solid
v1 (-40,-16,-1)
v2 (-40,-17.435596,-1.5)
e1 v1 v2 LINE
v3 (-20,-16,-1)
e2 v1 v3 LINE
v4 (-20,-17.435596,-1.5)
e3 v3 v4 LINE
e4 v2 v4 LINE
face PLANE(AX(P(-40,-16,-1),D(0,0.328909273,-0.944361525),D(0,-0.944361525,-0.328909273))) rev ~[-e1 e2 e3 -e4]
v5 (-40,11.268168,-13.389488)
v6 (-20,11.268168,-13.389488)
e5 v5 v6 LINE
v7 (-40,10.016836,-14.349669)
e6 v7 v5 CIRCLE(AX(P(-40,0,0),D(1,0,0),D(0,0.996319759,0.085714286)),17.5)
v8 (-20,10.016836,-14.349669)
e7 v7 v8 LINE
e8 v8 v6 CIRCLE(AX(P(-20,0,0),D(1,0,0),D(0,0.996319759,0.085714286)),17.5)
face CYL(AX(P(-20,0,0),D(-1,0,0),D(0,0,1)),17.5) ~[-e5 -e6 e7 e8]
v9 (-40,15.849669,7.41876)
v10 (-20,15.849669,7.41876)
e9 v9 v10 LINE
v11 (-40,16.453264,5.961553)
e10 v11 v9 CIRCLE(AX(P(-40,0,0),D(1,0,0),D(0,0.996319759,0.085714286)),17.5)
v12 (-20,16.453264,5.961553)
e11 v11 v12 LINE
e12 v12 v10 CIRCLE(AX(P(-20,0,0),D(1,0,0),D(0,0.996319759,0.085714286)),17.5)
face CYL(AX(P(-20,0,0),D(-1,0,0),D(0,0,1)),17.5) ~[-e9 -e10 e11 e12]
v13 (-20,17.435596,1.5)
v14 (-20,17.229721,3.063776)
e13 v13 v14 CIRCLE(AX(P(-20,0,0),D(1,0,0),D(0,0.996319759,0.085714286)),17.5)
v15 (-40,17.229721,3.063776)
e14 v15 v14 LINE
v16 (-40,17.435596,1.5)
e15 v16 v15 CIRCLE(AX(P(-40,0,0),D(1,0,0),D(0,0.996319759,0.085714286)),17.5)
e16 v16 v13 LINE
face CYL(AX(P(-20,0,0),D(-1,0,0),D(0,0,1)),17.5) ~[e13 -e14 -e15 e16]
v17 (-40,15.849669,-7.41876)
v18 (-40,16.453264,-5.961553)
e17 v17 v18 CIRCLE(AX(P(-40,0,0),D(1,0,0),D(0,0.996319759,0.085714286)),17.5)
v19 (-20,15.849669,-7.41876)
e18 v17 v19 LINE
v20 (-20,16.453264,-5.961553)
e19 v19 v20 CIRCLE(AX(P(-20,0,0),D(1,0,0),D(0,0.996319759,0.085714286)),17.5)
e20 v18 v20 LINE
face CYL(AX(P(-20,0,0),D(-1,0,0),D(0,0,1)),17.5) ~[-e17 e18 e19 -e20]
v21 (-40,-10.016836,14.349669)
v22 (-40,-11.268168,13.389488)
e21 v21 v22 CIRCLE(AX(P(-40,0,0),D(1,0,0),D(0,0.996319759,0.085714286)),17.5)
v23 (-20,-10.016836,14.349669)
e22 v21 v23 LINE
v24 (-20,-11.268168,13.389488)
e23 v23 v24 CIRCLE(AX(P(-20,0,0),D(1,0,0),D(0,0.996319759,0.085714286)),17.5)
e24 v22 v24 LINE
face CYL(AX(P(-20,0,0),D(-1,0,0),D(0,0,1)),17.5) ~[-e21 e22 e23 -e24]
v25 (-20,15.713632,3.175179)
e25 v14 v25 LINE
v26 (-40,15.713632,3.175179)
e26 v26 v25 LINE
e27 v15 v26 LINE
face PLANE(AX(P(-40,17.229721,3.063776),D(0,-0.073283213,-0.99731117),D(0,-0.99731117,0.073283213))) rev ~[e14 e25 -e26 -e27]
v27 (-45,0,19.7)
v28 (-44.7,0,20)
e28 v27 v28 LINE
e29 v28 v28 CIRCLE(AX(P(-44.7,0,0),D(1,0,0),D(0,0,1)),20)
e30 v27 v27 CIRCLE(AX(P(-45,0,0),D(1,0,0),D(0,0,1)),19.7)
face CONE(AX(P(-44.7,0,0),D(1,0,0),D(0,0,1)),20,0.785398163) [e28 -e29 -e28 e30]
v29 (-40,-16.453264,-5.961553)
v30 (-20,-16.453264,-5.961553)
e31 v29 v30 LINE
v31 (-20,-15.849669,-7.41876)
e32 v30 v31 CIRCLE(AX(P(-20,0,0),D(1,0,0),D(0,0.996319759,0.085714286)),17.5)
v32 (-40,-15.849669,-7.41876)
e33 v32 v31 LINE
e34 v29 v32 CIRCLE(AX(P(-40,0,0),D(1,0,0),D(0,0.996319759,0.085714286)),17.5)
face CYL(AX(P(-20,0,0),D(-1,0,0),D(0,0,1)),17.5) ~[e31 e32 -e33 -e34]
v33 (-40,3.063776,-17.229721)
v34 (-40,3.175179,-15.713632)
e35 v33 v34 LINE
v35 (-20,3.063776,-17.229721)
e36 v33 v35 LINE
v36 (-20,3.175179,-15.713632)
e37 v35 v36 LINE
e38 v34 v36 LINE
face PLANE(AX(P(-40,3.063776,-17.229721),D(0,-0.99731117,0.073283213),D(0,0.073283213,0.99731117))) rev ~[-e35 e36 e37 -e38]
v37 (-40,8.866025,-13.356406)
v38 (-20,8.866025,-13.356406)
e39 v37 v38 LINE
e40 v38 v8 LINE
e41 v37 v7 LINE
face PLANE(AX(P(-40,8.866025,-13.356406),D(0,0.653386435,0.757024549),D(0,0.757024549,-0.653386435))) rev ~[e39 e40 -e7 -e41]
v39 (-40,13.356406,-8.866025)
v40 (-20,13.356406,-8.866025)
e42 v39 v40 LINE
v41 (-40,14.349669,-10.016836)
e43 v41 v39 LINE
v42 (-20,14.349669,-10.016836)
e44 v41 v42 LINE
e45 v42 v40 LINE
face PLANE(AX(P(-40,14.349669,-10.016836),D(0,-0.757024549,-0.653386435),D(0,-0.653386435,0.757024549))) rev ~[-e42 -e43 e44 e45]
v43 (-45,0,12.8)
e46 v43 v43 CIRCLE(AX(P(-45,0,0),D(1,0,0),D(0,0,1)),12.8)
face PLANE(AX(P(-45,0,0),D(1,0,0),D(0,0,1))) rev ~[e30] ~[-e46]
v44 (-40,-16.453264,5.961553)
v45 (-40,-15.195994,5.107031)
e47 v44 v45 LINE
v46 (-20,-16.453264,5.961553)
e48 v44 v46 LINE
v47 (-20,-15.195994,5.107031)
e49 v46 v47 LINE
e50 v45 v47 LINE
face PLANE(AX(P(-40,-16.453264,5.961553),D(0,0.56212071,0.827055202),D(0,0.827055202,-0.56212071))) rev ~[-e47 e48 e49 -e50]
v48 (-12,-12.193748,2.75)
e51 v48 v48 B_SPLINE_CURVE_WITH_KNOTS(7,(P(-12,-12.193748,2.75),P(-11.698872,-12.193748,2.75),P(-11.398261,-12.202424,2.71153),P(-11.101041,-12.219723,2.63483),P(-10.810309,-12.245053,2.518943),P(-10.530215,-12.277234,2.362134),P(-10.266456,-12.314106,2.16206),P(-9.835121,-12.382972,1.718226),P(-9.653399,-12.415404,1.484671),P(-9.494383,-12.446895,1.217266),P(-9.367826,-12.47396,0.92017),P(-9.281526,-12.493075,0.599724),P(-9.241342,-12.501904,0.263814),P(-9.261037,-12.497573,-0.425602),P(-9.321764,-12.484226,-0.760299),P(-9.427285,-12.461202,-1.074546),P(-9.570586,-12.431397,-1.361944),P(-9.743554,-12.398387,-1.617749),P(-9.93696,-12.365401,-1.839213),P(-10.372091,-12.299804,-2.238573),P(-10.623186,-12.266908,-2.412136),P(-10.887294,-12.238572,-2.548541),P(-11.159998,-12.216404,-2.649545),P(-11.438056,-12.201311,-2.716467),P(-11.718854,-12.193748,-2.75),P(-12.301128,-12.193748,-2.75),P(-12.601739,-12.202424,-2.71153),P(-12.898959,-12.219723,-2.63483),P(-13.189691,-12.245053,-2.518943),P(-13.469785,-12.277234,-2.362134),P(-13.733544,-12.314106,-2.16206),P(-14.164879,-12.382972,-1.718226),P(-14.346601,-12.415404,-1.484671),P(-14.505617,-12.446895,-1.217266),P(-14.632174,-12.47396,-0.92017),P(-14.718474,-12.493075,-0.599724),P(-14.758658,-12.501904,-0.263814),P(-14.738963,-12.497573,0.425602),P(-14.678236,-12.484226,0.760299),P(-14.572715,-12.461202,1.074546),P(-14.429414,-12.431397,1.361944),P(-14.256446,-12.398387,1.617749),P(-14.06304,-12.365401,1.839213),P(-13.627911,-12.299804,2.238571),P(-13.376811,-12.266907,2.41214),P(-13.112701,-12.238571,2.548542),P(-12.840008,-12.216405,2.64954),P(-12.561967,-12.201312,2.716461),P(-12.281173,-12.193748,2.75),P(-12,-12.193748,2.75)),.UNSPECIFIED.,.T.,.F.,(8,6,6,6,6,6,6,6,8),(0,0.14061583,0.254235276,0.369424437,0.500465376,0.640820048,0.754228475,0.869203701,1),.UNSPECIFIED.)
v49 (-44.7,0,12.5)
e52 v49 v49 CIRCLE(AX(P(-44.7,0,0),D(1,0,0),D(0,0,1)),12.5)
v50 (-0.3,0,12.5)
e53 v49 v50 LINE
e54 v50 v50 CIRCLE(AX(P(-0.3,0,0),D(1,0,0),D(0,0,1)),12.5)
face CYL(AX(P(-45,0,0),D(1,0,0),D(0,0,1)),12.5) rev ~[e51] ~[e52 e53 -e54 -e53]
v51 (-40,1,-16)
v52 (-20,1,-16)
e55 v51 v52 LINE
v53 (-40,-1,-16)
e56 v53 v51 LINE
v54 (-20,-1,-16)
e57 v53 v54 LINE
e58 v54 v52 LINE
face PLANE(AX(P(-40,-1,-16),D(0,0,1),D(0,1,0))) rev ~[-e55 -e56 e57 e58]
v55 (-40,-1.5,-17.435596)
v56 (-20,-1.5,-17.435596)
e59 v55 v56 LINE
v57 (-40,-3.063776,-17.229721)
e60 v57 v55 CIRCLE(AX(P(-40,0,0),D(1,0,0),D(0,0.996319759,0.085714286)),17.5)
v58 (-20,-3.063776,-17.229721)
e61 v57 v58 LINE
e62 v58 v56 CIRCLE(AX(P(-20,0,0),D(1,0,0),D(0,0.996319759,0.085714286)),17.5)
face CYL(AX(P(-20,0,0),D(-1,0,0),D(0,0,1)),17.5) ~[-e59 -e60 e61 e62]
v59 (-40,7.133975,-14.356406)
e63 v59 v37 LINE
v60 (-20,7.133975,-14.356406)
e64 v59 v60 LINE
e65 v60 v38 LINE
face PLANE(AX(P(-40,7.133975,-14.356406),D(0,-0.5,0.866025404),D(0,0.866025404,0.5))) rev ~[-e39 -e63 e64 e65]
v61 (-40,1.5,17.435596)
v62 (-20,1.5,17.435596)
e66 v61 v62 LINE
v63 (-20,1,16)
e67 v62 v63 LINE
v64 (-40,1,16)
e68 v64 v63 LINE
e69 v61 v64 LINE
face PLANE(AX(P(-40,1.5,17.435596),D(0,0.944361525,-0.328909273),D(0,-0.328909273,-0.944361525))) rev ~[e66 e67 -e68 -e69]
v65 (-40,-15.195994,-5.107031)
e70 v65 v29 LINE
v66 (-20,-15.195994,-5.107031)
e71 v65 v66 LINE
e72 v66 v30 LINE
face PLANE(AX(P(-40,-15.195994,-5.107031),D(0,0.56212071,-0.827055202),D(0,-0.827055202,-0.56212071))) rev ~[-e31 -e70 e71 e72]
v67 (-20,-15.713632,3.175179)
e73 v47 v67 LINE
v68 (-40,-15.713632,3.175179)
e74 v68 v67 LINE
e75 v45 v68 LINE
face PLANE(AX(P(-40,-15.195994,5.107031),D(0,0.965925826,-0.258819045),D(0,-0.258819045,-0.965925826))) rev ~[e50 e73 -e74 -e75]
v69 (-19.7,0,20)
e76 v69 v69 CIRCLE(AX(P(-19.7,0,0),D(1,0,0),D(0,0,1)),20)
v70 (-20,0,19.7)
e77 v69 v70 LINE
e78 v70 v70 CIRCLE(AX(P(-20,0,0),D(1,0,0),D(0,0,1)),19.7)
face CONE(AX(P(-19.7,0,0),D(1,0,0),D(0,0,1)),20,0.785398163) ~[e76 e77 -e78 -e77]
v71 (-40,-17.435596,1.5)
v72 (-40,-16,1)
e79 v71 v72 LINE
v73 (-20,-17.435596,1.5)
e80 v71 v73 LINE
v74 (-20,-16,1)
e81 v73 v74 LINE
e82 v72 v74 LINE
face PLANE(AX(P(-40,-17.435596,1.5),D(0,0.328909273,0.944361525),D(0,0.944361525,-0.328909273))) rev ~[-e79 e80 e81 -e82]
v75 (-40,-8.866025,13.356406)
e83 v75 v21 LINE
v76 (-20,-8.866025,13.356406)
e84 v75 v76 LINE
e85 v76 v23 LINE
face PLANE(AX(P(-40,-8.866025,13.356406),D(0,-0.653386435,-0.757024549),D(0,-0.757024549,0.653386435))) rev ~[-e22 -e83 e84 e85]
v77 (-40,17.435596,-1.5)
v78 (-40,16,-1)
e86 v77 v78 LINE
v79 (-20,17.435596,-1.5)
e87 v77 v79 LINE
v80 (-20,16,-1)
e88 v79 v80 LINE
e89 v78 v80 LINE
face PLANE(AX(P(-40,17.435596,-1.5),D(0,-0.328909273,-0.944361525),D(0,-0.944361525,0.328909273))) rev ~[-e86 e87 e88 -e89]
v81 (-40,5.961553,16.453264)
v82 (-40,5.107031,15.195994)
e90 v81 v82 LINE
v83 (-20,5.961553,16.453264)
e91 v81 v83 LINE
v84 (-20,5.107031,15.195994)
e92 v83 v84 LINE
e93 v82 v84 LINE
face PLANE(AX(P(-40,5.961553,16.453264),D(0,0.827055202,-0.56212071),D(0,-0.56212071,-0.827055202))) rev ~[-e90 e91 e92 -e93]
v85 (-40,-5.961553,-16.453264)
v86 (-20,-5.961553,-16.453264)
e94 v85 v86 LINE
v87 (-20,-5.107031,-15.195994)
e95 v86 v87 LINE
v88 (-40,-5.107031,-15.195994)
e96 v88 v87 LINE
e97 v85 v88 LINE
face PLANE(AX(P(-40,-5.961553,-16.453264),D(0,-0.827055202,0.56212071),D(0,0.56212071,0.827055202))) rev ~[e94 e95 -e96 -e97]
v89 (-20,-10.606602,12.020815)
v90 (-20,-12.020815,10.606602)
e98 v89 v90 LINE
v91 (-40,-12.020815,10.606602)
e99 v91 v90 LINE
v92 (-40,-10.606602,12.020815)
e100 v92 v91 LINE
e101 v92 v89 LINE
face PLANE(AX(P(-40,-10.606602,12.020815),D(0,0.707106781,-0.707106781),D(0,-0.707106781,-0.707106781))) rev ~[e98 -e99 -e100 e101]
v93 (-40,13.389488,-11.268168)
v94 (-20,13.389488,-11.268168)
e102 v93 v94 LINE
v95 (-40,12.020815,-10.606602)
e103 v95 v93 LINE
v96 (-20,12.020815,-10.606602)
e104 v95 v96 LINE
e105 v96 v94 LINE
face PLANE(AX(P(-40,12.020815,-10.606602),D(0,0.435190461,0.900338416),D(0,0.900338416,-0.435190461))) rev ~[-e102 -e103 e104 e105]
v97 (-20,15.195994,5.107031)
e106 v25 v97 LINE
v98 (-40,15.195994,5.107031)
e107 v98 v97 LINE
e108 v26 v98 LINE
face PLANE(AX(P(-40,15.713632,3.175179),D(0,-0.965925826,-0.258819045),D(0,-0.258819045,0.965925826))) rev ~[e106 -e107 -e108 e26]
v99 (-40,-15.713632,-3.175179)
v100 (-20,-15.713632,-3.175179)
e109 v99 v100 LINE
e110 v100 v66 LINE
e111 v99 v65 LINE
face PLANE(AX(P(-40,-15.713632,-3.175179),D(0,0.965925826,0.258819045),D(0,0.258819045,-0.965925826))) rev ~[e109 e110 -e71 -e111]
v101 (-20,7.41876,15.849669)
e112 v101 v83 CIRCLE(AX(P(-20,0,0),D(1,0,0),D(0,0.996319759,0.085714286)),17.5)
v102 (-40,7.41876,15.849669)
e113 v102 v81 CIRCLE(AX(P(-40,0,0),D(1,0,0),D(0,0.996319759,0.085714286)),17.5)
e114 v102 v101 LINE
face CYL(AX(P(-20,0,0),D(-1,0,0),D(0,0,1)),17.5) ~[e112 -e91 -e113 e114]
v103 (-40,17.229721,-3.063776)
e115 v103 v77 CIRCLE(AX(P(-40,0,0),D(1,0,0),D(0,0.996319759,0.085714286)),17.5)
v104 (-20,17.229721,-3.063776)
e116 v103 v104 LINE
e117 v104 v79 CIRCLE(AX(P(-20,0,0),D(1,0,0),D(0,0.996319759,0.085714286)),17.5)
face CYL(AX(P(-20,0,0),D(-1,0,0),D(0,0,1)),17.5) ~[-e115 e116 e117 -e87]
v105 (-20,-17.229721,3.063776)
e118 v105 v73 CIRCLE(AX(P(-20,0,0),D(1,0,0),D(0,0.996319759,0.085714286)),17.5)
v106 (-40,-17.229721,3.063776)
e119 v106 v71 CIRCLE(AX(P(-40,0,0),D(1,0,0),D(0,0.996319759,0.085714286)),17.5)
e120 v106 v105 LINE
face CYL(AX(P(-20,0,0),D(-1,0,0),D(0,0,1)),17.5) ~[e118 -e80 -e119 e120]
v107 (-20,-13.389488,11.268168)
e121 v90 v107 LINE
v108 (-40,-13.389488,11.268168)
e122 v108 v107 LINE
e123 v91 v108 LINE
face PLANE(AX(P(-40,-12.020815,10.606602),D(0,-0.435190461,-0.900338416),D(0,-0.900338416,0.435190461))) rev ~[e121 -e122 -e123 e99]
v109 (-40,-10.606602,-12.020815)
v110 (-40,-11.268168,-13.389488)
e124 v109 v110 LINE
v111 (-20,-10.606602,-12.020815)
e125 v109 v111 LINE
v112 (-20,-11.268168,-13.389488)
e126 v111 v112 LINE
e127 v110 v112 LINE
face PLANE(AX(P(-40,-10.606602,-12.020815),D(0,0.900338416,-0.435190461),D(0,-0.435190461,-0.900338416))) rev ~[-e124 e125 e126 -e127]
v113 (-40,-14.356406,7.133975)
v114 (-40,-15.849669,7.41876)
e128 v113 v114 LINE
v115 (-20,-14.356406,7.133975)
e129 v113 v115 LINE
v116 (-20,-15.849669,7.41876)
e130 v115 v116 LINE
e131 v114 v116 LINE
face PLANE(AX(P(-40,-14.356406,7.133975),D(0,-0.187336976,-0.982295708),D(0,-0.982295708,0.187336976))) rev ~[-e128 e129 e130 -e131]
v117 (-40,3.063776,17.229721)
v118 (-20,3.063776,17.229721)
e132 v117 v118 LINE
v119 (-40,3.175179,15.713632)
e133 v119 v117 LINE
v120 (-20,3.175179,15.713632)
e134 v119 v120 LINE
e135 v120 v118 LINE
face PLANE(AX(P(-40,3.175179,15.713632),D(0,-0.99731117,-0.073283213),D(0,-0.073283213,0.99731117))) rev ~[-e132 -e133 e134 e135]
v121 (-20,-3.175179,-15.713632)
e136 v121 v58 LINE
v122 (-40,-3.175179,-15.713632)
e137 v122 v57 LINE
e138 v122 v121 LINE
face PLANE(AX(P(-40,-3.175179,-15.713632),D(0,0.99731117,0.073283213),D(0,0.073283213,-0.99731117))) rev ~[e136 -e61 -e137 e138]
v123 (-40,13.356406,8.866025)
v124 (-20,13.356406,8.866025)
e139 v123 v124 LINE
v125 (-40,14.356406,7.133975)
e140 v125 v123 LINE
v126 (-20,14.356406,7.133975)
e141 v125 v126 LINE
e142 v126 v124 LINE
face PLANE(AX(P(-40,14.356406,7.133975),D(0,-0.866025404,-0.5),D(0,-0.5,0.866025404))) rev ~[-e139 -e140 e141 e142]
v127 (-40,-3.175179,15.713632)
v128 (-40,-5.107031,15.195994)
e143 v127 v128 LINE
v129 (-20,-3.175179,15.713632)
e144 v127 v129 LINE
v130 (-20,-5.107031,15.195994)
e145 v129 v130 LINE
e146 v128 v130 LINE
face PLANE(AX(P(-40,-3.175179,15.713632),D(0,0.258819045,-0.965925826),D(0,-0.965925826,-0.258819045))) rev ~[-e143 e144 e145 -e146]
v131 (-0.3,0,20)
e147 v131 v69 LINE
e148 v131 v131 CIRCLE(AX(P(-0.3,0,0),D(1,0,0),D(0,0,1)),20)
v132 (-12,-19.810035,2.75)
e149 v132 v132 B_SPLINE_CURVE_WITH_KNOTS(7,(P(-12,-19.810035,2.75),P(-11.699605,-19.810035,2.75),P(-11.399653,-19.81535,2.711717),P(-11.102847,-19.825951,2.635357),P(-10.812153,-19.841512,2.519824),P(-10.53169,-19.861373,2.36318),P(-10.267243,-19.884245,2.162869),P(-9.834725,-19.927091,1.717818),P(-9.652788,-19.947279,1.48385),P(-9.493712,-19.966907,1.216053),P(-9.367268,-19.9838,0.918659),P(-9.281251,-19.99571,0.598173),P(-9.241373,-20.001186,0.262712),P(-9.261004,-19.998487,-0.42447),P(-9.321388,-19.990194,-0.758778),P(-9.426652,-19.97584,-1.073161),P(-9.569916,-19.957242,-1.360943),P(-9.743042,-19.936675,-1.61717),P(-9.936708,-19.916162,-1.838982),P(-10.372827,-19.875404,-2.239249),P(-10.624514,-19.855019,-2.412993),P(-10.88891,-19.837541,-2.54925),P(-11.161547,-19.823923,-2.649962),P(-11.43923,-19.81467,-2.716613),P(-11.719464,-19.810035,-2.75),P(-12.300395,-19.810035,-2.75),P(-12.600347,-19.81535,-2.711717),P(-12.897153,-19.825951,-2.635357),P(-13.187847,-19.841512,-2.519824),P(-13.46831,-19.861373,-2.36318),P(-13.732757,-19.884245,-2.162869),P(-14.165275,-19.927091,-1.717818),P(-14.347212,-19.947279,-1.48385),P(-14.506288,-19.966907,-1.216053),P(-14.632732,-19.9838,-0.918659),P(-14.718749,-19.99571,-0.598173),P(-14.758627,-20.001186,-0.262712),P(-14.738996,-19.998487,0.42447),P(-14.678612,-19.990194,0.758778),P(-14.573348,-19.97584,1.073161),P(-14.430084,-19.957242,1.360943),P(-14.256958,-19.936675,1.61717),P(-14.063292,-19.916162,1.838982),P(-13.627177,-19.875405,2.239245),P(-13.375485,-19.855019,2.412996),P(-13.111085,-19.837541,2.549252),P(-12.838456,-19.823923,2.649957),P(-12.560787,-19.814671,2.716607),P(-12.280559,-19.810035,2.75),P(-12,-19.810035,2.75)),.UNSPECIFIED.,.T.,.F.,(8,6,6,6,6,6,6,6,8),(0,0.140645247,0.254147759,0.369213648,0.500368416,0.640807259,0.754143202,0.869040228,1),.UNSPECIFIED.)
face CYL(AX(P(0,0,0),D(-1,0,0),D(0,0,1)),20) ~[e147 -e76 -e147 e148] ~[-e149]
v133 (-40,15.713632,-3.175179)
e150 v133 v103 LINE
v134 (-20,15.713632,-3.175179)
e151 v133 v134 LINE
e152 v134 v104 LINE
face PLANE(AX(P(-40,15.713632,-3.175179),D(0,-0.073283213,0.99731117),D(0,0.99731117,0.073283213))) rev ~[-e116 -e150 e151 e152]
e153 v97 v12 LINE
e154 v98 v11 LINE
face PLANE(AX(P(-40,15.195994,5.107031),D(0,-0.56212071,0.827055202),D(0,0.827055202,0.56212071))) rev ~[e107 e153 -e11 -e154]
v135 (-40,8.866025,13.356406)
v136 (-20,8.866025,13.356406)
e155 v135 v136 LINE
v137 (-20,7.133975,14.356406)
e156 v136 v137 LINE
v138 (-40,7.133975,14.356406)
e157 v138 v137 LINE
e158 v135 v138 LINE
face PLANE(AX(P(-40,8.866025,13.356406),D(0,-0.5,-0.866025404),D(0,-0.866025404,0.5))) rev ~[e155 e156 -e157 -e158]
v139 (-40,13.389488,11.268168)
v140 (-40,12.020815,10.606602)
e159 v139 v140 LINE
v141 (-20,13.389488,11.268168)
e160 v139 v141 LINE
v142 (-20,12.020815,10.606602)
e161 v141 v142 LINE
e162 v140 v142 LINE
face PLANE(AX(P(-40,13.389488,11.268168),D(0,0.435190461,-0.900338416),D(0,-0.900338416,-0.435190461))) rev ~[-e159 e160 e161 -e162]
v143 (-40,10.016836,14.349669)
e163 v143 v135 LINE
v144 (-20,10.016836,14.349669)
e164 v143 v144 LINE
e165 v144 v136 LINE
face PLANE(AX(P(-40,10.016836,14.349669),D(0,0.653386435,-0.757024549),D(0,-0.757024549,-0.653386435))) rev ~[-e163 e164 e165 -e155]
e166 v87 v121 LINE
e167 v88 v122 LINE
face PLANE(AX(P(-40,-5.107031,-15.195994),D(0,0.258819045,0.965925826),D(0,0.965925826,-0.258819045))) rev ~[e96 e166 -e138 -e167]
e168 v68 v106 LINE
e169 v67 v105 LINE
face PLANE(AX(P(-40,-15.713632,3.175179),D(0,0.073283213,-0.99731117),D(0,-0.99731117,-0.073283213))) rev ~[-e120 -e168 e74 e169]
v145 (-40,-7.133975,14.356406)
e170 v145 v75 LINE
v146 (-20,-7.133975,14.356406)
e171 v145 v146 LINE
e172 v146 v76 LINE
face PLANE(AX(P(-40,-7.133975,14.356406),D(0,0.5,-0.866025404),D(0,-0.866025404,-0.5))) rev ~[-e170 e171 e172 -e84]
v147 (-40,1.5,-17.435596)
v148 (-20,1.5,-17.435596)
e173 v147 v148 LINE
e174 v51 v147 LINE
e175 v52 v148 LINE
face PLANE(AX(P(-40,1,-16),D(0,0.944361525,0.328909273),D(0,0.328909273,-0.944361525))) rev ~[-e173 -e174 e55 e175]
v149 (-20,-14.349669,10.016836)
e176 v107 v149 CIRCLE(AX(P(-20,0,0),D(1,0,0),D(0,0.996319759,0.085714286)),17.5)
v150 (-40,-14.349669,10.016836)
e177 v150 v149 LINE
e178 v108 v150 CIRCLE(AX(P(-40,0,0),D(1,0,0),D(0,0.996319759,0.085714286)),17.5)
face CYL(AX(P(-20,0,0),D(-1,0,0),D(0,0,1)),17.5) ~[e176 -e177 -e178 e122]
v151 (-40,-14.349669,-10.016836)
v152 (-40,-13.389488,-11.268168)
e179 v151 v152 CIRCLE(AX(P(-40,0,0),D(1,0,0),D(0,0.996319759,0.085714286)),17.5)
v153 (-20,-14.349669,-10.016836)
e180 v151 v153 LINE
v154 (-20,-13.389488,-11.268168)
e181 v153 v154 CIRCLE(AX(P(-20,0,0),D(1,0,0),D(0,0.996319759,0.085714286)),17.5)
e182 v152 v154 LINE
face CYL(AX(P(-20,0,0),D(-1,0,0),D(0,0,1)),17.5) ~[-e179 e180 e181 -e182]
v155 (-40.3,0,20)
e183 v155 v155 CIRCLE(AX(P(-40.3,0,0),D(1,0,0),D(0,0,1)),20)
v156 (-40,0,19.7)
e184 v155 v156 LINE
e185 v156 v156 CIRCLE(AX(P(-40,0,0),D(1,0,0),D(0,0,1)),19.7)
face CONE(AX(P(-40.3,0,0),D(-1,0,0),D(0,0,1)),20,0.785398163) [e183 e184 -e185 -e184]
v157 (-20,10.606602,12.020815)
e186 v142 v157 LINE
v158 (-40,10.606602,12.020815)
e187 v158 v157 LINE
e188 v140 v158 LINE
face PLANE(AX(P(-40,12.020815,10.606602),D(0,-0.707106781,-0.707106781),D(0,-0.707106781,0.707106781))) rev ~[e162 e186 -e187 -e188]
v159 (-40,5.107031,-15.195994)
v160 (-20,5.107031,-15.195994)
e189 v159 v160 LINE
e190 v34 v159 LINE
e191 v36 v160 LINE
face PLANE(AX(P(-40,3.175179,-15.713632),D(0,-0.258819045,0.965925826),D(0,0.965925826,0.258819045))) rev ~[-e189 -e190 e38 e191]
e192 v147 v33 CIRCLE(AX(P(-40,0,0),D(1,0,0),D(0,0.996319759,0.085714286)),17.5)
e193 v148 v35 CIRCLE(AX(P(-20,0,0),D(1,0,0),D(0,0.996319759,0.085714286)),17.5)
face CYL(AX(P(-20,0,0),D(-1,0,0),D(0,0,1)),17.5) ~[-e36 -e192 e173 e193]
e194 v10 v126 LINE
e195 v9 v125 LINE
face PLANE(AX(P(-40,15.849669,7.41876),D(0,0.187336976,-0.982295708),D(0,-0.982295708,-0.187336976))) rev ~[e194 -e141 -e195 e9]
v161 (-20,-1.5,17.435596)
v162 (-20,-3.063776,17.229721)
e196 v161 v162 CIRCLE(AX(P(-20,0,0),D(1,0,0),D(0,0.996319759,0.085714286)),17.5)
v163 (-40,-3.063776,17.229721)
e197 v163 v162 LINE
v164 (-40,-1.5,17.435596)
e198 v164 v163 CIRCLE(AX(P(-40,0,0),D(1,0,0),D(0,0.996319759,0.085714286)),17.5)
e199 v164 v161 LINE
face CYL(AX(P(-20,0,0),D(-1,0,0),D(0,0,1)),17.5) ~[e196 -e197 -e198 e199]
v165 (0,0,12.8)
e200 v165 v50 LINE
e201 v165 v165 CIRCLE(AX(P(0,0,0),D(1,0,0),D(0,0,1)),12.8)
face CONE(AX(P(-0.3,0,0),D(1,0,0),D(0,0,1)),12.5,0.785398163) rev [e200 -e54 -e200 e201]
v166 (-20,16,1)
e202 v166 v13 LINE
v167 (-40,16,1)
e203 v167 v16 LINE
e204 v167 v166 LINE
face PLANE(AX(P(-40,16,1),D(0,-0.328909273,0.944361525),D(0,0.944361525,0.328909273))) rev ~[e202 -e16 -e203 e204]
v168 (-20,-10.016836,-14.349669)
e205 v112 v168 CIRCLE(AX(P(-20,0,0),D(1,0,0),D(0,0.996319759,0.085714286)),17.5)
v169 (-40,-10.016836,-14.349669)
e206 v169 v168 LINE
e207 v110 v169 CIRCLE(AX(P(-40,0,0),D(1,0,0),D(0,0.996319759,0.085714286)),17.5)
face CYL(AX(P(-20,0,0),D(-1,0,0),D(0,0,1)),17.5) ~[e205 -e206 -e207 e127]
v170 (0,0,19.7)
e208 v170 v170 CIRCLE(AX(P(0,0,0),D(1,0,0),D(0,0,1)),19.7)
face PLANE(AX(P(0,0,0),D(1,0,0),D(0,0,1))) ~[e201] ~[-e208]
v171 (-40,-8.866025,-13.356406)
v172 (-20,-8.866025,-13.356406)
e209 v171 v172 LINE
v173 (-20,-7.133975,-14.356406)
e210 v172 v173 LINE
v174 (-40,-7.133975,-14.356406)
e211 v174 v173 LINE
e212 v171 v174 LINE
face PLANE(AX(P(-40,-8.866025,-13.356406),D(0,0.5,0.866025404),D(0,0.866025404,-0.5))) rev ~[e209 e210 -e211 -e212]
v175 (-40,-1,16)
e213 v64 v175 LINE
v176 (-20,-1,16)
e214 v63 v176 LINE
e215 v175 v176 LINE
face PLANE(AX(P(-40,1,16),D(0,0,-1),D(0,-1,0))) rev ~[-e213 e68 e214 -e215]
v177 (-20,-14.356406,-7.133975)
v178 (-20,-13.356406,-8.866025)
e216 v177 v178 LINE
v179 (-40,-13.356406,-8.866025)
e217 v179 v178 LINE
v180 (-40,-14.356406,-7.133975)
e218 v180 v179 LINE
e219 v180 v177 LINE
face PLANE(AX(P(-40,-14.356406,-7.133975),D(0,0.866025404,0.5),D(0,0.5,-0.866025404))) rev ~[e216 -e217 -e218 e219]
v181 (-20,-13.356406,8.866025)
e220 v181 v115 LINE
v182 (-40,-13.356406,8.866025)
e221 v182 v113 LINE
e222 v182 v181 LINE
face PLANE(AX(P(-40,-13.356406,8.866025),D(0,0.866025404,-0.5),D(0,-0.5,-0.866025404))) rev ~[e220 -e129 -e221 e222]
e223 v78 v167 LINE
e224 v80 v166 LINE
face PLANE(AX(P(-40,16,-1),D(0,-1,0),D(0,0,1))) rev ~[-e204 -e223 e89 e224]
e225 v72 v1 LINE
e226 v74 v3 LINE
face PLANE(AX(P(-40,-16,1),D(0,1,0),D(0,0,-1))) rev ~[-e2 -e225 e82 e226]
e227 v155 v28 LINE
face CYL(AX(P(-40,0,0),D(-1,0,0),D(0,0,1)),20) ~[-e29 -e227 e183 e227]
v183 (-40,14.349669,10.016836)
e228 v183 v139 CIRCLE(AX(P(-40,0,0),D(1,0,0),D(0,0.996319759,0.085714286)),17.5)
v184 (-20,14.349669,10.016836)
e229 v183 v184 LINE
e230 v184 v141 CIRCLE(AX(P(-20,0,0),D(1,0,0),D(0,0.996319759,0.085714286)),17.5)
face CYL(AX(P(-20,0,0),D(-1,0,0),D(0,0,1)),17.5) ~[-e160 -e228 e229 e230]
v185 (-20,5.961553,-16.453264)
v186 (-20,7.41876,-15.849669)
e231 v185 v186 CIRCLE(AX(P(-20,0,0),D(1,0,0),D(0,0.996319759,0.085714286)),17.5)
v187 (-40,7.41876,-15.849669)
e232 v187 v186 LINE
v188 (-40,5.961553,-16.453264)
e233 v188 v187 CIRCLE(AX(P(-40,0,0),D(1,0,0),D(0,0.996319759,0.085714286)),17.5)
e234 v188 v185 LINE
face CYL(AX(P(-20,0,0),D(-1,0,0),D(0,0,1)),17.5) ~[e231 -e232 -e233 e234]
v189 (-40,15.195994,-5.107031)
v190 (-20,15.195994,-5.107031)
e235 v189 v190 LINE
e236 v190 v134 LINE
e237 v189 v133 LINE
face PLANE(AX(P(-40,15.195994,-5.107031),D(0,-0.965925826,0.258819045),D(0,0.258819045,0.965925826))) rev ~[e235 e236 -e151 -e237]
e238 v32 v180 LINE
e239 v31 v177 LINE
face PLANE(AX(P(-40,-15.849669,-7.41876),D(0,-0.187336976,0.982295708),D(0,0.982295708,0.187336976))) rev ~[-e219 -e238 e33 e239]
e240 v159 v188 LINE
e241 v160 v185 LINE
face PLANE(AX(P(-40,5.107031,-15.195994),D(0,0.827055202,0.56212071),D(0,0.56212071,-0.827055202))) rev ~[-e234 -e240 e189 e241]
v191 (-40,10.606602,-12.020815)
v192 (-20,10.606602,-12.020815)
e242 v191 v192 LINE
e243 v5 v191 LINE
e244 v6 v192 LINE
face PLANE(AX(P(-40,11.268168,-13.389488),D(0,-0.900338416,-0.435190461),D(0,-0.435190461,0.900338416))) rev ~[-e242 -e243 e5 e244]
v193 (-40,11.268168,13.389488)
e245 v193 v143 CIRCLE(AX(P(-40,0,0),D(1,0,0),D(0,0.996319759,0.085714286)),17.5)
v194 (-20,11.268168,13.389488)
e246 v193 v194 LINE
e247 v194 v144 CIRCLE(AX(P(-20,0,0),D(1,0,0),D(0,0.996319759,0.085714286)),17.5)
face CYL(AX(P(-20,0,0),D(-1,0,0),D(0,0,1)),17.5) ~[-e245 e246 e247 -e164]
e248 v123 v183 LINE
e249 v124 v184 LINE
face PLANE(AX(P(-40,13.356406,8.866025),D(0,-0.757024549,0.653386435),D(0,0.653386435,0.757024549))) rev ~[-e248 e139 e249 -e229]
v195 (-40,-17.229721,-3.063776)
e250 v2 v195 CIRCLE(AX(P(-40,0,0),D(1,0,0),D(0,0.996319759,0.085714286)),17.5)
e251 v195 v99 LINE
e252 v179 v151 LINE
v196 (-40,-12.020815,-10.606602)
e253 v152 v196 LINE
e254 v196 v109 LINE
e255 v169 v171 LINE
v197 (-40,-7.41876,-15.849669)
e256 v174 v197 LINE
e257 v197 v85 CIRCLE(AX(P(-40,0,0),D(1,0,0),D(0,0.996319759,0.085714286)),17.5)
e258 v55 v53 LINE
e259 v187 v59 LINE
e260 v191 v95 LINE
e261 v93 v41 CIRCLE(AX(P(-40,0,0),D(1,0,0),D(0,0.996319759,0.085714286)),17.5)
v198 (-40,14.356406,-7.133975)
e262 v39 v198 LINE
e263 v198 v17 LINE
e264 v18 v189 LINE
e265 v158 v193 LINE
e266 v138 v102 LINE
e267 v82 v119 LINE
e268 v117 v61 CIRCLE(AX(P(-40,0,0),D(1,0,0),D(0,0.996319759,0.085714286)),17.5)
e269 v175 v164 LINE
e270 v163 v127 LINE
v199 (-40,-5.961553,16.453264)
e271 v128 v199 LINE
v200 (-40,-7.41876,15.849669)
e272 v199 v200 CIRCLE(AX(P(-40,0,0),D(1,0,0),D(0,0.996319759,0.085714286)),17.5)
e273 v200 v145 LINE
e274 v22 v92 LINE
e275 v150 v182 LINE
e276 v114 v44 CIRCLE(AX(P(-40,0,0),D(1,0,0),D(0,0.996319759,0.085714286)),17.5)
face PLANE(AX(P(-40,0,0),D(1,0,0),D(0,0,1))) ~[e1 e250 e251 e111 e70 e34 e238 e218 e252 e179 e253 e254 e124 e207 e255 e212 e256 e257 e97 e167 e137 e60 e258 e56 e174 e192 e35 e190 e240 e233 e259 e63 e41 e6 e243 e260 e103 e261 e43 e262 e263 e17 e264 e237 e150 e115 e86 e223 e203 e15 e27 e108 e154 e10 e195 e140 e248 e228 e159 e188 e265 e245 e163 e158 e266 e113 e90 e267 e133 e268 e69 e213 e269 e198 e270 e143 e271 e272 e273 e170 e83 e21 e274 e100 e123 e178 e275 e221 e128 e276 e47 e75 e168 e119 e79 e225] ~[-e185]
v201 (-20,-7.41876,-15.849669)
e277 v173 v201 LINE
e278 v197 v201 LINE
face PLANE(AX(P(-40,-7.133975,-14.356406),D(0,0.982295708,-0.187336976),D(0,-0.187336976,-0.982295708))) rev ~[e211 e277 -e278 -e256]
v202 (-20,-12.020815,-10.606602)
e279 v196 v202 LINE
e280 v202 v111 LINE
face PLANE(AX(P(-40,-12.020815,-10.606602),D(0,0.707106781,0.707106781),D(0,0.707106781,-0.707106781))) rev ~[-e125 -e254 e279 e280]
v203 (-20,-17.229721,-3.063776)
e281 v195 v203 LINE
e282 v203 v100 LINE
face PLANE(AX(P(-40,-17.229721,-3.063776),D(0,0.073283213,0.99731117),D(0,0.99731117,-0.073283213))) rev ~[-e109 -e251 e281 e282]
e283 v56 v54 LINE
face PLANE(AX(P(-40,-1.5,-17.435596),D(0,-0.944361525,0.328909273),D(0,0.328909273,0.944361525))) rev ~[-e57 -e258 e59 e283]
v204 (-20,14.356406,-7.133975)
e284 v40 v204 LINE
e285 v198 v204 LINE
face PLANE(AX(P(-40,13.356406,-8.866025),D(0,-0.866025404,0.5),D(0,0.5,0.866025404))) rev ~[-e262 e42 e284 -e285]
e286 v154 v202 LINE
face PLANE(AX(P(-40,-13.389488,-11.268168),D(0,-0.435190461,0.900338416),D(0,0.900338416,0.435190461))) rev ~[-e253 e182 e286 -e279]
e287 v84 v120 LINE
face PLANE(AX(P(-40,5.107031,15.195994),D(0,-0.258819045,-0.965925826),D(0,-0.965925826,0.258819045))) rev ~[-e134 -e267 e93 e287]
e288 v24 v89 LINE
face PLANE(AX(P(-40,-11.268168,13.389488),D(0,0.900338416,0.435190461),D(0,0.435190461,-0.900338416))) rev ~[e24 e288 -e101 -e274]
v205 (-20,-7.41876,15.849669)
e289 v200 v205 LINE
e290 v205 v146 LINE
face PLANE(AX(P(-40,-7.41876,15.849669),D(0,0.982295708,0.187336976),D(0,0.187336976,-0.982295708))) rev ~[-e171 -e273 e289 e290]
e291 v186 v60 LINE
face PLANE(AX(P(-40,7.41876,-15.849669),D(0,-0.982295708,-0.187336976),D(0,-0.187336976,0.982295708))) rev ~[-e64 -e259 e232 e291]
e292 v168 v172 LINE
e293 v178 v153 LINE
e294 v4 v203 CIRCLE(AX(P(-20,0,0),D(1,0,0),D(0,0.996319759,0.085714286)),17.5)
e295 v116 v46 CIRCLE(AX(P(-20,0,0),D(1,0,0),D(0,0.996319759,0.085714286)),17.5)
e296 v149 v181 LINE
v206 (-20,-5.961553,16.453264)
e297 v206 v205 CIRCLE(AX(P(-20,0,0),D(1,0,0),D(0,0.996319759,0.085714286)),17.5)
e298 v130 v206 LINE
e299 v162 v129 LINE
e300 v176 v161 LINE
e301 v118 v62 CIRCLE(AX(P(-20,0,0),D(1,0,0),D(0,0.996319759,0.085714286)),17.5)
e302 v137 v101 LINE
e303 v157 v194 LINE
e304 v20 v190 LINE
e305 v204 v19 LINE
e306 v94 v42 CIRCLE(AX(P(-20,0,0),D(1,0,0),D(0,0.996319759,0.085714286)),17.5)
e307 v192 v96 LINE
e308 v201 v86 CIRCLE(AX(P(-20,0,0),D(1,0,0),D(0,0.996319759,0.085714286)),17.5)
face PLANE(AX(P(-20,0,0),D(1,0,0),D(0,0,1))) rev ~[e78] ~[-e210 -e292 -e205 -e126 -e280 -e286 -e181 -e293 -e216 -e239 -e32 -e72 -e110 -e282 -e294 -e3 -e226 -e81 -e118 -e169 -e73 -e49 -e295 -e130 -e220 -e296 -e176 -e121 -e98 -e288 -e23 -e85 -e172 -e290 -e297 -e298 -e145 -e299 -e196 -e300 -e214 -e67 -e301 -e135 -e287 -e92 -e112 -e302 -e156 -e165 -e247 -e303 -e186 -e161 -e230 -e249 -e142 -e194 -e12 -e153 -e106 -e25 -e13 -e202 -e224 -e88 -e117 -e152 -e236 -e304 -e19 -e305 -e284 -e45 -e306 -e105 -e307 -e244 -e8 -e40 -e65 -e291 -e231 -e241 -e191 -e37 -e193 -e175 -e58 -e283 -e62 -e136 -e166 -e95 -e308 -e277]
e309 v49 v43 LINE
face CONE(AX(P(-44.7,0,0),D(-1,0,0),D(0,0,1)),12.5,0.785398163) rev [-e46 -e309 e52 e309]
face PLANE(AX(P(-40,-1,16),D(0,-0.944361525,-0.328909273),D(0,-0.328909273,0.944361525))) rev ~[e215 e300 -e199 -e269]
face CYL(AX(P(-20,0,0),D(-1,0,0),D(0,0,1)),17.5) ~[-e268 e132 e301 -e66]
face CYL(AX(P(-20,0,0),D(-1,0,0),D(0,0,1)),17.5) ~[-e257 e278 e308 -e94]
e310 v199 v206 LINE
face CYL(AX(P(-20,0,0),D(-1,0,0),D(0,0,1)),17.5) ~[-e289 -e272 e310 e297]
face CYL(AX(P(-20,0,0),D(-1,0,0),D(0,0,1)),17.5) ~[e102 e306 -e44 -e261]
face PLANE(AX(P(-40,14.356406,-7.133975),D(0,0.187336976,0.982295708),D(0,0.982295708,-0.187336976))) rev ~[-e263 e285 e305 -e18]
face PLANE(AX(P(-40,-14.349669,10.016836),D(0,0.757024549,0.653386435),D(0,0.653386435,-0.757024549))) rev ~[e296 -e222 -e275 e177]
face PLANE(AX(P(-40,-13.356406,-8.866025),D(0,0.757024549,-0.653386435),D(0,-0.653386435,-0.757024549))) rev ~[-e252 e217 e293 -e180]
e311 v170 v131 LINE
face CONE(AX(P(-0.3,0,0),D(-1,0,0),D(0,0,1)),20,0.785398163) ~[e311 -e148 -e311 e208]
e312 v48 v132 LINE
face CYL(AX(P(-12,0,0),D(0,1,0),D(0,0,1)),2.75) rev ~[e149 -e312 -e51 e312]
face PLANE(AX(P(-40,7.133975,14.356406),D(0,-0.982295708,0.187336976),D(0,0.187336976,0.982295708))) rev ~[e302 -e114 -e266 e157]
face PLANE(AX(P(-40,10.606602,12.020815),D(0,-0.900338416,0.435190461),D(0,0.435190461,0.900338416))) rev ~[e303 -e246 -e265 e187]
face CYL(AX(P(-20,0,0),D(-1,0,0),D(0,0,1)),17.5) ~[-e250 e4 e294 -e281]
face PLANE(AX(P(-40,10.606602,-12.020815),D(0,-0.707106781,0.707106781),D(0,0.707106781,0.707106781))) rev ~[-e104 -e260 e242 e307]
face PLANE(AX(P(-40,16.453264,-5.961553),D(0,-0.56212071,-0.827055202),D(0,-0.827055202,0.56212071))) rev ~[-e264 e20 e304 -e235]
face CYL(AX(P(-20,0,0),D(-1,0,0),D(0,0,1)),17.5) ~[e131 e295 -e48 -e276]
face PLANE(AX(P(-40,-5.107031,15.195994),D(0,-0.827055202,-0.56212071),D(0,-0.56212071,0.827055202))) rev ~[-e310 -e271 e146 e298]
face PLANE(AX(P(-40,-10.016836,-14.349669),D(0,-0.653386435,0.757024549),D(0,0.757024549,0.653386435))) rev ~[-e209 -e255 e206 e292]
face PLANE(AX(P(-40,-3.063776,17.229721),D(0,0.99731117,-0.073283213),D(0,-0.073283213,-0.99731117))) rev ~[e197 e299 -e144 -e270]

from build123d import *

# Parameters (mm, degrees)
SKETCH_2_R               = 2.75
CUT_EXTRUDE_1_DEPTH      = 54.150729064
CUT_EXTRUDE_START        = 20
CUT_EXTRUDE_2_DEPTH      = 20
PATTERN_CIRCULAR_1_COUNT = 24
CHAMFER_1_SIZE           = 0.3


with BuildPart() as part:
    # Эскиз1 → Повернуть1 (revolve)
    with BuildSketch(Plane.XY, mode=Mode.PRIVATE) as revolve_1_sk:
        Polygon((0, 12.5), (0, 20), (-20, 20), (-20, 17.5), (-40, 17.5), (-40, 20), (-45, 20), (-45, 12.5), align=None)
    revolve(revolve_1_sk.sketch.rotate(Axis((-33.310992453, 0, 0), (1, 0, 0)), 90), axis=Axis((-33.310992453, 0, 0), (1, 0, 0)))

    # Эскиз2 → Вырез-Вытянуть1 (cut, through all)
    with BuildSketch(Plane(origin=(0, 0, 0), x_dir=(1, 0, 0), z_dir=(0, 1, 0))):
        with Locations(Location((-12, 0, 0), (0, 0, 270))):
            Circle(SKETCH_2_R)
    extrude(amount=-CUT_EXTRUDE_1_DEPTH, mode=Mode.SUBTRACT)

    # Эскиз3 → Вырез-Вытянуть2 (cut)
    with BuildSketch(Plane.ZY.offset(20).offset(CUT_EXTRUDE_START)):
        with BuildLine():
            Line((-1.5, 17.435595774), (-1, 16))
            Line((-1, 16), (1, 16))
            Line((1, 16), (1.5, 17.435595774))
            ThreePointArc((1.5, 17.435595774), (0, 17.5), (-1.5, 17.435595774))
        make_face()
    cut_extrude_2 = extrude(amount=-CUT_EXTRUDE_2_DEPTH, mode=Mode.SUBTRACT)

    # Круговой массив1: Вырез-Вытянуть2 ×24 about axis
    pattern_circular_1_axis = Axis((0, 0, 0), (1, 0, 0))
    for i in range(1, PATTERN_CIRCULAR_1_COUNT):
        add(cut_extrude_2.rotate(pattern_circular_1_axis, i * 360 / PATTERN_CIRCULAR_1_COUNT), mode=Mode.SUBTRACT)

    # Фаска1
    chamfer_1_edges = [part.edges().sort_by_distance(p)[0] for p in [
        (0, 0, -12.5),
        (-45, 0, -12.5),
        (-45, 0, -20),
        (-40, 0, -20),
        (-20, 0, -20),
        (0, 0, -20),
    ]]
    chamfer(chamfer_1_edges, length=CHAMFER_1_SIZE)


solid = part.part
